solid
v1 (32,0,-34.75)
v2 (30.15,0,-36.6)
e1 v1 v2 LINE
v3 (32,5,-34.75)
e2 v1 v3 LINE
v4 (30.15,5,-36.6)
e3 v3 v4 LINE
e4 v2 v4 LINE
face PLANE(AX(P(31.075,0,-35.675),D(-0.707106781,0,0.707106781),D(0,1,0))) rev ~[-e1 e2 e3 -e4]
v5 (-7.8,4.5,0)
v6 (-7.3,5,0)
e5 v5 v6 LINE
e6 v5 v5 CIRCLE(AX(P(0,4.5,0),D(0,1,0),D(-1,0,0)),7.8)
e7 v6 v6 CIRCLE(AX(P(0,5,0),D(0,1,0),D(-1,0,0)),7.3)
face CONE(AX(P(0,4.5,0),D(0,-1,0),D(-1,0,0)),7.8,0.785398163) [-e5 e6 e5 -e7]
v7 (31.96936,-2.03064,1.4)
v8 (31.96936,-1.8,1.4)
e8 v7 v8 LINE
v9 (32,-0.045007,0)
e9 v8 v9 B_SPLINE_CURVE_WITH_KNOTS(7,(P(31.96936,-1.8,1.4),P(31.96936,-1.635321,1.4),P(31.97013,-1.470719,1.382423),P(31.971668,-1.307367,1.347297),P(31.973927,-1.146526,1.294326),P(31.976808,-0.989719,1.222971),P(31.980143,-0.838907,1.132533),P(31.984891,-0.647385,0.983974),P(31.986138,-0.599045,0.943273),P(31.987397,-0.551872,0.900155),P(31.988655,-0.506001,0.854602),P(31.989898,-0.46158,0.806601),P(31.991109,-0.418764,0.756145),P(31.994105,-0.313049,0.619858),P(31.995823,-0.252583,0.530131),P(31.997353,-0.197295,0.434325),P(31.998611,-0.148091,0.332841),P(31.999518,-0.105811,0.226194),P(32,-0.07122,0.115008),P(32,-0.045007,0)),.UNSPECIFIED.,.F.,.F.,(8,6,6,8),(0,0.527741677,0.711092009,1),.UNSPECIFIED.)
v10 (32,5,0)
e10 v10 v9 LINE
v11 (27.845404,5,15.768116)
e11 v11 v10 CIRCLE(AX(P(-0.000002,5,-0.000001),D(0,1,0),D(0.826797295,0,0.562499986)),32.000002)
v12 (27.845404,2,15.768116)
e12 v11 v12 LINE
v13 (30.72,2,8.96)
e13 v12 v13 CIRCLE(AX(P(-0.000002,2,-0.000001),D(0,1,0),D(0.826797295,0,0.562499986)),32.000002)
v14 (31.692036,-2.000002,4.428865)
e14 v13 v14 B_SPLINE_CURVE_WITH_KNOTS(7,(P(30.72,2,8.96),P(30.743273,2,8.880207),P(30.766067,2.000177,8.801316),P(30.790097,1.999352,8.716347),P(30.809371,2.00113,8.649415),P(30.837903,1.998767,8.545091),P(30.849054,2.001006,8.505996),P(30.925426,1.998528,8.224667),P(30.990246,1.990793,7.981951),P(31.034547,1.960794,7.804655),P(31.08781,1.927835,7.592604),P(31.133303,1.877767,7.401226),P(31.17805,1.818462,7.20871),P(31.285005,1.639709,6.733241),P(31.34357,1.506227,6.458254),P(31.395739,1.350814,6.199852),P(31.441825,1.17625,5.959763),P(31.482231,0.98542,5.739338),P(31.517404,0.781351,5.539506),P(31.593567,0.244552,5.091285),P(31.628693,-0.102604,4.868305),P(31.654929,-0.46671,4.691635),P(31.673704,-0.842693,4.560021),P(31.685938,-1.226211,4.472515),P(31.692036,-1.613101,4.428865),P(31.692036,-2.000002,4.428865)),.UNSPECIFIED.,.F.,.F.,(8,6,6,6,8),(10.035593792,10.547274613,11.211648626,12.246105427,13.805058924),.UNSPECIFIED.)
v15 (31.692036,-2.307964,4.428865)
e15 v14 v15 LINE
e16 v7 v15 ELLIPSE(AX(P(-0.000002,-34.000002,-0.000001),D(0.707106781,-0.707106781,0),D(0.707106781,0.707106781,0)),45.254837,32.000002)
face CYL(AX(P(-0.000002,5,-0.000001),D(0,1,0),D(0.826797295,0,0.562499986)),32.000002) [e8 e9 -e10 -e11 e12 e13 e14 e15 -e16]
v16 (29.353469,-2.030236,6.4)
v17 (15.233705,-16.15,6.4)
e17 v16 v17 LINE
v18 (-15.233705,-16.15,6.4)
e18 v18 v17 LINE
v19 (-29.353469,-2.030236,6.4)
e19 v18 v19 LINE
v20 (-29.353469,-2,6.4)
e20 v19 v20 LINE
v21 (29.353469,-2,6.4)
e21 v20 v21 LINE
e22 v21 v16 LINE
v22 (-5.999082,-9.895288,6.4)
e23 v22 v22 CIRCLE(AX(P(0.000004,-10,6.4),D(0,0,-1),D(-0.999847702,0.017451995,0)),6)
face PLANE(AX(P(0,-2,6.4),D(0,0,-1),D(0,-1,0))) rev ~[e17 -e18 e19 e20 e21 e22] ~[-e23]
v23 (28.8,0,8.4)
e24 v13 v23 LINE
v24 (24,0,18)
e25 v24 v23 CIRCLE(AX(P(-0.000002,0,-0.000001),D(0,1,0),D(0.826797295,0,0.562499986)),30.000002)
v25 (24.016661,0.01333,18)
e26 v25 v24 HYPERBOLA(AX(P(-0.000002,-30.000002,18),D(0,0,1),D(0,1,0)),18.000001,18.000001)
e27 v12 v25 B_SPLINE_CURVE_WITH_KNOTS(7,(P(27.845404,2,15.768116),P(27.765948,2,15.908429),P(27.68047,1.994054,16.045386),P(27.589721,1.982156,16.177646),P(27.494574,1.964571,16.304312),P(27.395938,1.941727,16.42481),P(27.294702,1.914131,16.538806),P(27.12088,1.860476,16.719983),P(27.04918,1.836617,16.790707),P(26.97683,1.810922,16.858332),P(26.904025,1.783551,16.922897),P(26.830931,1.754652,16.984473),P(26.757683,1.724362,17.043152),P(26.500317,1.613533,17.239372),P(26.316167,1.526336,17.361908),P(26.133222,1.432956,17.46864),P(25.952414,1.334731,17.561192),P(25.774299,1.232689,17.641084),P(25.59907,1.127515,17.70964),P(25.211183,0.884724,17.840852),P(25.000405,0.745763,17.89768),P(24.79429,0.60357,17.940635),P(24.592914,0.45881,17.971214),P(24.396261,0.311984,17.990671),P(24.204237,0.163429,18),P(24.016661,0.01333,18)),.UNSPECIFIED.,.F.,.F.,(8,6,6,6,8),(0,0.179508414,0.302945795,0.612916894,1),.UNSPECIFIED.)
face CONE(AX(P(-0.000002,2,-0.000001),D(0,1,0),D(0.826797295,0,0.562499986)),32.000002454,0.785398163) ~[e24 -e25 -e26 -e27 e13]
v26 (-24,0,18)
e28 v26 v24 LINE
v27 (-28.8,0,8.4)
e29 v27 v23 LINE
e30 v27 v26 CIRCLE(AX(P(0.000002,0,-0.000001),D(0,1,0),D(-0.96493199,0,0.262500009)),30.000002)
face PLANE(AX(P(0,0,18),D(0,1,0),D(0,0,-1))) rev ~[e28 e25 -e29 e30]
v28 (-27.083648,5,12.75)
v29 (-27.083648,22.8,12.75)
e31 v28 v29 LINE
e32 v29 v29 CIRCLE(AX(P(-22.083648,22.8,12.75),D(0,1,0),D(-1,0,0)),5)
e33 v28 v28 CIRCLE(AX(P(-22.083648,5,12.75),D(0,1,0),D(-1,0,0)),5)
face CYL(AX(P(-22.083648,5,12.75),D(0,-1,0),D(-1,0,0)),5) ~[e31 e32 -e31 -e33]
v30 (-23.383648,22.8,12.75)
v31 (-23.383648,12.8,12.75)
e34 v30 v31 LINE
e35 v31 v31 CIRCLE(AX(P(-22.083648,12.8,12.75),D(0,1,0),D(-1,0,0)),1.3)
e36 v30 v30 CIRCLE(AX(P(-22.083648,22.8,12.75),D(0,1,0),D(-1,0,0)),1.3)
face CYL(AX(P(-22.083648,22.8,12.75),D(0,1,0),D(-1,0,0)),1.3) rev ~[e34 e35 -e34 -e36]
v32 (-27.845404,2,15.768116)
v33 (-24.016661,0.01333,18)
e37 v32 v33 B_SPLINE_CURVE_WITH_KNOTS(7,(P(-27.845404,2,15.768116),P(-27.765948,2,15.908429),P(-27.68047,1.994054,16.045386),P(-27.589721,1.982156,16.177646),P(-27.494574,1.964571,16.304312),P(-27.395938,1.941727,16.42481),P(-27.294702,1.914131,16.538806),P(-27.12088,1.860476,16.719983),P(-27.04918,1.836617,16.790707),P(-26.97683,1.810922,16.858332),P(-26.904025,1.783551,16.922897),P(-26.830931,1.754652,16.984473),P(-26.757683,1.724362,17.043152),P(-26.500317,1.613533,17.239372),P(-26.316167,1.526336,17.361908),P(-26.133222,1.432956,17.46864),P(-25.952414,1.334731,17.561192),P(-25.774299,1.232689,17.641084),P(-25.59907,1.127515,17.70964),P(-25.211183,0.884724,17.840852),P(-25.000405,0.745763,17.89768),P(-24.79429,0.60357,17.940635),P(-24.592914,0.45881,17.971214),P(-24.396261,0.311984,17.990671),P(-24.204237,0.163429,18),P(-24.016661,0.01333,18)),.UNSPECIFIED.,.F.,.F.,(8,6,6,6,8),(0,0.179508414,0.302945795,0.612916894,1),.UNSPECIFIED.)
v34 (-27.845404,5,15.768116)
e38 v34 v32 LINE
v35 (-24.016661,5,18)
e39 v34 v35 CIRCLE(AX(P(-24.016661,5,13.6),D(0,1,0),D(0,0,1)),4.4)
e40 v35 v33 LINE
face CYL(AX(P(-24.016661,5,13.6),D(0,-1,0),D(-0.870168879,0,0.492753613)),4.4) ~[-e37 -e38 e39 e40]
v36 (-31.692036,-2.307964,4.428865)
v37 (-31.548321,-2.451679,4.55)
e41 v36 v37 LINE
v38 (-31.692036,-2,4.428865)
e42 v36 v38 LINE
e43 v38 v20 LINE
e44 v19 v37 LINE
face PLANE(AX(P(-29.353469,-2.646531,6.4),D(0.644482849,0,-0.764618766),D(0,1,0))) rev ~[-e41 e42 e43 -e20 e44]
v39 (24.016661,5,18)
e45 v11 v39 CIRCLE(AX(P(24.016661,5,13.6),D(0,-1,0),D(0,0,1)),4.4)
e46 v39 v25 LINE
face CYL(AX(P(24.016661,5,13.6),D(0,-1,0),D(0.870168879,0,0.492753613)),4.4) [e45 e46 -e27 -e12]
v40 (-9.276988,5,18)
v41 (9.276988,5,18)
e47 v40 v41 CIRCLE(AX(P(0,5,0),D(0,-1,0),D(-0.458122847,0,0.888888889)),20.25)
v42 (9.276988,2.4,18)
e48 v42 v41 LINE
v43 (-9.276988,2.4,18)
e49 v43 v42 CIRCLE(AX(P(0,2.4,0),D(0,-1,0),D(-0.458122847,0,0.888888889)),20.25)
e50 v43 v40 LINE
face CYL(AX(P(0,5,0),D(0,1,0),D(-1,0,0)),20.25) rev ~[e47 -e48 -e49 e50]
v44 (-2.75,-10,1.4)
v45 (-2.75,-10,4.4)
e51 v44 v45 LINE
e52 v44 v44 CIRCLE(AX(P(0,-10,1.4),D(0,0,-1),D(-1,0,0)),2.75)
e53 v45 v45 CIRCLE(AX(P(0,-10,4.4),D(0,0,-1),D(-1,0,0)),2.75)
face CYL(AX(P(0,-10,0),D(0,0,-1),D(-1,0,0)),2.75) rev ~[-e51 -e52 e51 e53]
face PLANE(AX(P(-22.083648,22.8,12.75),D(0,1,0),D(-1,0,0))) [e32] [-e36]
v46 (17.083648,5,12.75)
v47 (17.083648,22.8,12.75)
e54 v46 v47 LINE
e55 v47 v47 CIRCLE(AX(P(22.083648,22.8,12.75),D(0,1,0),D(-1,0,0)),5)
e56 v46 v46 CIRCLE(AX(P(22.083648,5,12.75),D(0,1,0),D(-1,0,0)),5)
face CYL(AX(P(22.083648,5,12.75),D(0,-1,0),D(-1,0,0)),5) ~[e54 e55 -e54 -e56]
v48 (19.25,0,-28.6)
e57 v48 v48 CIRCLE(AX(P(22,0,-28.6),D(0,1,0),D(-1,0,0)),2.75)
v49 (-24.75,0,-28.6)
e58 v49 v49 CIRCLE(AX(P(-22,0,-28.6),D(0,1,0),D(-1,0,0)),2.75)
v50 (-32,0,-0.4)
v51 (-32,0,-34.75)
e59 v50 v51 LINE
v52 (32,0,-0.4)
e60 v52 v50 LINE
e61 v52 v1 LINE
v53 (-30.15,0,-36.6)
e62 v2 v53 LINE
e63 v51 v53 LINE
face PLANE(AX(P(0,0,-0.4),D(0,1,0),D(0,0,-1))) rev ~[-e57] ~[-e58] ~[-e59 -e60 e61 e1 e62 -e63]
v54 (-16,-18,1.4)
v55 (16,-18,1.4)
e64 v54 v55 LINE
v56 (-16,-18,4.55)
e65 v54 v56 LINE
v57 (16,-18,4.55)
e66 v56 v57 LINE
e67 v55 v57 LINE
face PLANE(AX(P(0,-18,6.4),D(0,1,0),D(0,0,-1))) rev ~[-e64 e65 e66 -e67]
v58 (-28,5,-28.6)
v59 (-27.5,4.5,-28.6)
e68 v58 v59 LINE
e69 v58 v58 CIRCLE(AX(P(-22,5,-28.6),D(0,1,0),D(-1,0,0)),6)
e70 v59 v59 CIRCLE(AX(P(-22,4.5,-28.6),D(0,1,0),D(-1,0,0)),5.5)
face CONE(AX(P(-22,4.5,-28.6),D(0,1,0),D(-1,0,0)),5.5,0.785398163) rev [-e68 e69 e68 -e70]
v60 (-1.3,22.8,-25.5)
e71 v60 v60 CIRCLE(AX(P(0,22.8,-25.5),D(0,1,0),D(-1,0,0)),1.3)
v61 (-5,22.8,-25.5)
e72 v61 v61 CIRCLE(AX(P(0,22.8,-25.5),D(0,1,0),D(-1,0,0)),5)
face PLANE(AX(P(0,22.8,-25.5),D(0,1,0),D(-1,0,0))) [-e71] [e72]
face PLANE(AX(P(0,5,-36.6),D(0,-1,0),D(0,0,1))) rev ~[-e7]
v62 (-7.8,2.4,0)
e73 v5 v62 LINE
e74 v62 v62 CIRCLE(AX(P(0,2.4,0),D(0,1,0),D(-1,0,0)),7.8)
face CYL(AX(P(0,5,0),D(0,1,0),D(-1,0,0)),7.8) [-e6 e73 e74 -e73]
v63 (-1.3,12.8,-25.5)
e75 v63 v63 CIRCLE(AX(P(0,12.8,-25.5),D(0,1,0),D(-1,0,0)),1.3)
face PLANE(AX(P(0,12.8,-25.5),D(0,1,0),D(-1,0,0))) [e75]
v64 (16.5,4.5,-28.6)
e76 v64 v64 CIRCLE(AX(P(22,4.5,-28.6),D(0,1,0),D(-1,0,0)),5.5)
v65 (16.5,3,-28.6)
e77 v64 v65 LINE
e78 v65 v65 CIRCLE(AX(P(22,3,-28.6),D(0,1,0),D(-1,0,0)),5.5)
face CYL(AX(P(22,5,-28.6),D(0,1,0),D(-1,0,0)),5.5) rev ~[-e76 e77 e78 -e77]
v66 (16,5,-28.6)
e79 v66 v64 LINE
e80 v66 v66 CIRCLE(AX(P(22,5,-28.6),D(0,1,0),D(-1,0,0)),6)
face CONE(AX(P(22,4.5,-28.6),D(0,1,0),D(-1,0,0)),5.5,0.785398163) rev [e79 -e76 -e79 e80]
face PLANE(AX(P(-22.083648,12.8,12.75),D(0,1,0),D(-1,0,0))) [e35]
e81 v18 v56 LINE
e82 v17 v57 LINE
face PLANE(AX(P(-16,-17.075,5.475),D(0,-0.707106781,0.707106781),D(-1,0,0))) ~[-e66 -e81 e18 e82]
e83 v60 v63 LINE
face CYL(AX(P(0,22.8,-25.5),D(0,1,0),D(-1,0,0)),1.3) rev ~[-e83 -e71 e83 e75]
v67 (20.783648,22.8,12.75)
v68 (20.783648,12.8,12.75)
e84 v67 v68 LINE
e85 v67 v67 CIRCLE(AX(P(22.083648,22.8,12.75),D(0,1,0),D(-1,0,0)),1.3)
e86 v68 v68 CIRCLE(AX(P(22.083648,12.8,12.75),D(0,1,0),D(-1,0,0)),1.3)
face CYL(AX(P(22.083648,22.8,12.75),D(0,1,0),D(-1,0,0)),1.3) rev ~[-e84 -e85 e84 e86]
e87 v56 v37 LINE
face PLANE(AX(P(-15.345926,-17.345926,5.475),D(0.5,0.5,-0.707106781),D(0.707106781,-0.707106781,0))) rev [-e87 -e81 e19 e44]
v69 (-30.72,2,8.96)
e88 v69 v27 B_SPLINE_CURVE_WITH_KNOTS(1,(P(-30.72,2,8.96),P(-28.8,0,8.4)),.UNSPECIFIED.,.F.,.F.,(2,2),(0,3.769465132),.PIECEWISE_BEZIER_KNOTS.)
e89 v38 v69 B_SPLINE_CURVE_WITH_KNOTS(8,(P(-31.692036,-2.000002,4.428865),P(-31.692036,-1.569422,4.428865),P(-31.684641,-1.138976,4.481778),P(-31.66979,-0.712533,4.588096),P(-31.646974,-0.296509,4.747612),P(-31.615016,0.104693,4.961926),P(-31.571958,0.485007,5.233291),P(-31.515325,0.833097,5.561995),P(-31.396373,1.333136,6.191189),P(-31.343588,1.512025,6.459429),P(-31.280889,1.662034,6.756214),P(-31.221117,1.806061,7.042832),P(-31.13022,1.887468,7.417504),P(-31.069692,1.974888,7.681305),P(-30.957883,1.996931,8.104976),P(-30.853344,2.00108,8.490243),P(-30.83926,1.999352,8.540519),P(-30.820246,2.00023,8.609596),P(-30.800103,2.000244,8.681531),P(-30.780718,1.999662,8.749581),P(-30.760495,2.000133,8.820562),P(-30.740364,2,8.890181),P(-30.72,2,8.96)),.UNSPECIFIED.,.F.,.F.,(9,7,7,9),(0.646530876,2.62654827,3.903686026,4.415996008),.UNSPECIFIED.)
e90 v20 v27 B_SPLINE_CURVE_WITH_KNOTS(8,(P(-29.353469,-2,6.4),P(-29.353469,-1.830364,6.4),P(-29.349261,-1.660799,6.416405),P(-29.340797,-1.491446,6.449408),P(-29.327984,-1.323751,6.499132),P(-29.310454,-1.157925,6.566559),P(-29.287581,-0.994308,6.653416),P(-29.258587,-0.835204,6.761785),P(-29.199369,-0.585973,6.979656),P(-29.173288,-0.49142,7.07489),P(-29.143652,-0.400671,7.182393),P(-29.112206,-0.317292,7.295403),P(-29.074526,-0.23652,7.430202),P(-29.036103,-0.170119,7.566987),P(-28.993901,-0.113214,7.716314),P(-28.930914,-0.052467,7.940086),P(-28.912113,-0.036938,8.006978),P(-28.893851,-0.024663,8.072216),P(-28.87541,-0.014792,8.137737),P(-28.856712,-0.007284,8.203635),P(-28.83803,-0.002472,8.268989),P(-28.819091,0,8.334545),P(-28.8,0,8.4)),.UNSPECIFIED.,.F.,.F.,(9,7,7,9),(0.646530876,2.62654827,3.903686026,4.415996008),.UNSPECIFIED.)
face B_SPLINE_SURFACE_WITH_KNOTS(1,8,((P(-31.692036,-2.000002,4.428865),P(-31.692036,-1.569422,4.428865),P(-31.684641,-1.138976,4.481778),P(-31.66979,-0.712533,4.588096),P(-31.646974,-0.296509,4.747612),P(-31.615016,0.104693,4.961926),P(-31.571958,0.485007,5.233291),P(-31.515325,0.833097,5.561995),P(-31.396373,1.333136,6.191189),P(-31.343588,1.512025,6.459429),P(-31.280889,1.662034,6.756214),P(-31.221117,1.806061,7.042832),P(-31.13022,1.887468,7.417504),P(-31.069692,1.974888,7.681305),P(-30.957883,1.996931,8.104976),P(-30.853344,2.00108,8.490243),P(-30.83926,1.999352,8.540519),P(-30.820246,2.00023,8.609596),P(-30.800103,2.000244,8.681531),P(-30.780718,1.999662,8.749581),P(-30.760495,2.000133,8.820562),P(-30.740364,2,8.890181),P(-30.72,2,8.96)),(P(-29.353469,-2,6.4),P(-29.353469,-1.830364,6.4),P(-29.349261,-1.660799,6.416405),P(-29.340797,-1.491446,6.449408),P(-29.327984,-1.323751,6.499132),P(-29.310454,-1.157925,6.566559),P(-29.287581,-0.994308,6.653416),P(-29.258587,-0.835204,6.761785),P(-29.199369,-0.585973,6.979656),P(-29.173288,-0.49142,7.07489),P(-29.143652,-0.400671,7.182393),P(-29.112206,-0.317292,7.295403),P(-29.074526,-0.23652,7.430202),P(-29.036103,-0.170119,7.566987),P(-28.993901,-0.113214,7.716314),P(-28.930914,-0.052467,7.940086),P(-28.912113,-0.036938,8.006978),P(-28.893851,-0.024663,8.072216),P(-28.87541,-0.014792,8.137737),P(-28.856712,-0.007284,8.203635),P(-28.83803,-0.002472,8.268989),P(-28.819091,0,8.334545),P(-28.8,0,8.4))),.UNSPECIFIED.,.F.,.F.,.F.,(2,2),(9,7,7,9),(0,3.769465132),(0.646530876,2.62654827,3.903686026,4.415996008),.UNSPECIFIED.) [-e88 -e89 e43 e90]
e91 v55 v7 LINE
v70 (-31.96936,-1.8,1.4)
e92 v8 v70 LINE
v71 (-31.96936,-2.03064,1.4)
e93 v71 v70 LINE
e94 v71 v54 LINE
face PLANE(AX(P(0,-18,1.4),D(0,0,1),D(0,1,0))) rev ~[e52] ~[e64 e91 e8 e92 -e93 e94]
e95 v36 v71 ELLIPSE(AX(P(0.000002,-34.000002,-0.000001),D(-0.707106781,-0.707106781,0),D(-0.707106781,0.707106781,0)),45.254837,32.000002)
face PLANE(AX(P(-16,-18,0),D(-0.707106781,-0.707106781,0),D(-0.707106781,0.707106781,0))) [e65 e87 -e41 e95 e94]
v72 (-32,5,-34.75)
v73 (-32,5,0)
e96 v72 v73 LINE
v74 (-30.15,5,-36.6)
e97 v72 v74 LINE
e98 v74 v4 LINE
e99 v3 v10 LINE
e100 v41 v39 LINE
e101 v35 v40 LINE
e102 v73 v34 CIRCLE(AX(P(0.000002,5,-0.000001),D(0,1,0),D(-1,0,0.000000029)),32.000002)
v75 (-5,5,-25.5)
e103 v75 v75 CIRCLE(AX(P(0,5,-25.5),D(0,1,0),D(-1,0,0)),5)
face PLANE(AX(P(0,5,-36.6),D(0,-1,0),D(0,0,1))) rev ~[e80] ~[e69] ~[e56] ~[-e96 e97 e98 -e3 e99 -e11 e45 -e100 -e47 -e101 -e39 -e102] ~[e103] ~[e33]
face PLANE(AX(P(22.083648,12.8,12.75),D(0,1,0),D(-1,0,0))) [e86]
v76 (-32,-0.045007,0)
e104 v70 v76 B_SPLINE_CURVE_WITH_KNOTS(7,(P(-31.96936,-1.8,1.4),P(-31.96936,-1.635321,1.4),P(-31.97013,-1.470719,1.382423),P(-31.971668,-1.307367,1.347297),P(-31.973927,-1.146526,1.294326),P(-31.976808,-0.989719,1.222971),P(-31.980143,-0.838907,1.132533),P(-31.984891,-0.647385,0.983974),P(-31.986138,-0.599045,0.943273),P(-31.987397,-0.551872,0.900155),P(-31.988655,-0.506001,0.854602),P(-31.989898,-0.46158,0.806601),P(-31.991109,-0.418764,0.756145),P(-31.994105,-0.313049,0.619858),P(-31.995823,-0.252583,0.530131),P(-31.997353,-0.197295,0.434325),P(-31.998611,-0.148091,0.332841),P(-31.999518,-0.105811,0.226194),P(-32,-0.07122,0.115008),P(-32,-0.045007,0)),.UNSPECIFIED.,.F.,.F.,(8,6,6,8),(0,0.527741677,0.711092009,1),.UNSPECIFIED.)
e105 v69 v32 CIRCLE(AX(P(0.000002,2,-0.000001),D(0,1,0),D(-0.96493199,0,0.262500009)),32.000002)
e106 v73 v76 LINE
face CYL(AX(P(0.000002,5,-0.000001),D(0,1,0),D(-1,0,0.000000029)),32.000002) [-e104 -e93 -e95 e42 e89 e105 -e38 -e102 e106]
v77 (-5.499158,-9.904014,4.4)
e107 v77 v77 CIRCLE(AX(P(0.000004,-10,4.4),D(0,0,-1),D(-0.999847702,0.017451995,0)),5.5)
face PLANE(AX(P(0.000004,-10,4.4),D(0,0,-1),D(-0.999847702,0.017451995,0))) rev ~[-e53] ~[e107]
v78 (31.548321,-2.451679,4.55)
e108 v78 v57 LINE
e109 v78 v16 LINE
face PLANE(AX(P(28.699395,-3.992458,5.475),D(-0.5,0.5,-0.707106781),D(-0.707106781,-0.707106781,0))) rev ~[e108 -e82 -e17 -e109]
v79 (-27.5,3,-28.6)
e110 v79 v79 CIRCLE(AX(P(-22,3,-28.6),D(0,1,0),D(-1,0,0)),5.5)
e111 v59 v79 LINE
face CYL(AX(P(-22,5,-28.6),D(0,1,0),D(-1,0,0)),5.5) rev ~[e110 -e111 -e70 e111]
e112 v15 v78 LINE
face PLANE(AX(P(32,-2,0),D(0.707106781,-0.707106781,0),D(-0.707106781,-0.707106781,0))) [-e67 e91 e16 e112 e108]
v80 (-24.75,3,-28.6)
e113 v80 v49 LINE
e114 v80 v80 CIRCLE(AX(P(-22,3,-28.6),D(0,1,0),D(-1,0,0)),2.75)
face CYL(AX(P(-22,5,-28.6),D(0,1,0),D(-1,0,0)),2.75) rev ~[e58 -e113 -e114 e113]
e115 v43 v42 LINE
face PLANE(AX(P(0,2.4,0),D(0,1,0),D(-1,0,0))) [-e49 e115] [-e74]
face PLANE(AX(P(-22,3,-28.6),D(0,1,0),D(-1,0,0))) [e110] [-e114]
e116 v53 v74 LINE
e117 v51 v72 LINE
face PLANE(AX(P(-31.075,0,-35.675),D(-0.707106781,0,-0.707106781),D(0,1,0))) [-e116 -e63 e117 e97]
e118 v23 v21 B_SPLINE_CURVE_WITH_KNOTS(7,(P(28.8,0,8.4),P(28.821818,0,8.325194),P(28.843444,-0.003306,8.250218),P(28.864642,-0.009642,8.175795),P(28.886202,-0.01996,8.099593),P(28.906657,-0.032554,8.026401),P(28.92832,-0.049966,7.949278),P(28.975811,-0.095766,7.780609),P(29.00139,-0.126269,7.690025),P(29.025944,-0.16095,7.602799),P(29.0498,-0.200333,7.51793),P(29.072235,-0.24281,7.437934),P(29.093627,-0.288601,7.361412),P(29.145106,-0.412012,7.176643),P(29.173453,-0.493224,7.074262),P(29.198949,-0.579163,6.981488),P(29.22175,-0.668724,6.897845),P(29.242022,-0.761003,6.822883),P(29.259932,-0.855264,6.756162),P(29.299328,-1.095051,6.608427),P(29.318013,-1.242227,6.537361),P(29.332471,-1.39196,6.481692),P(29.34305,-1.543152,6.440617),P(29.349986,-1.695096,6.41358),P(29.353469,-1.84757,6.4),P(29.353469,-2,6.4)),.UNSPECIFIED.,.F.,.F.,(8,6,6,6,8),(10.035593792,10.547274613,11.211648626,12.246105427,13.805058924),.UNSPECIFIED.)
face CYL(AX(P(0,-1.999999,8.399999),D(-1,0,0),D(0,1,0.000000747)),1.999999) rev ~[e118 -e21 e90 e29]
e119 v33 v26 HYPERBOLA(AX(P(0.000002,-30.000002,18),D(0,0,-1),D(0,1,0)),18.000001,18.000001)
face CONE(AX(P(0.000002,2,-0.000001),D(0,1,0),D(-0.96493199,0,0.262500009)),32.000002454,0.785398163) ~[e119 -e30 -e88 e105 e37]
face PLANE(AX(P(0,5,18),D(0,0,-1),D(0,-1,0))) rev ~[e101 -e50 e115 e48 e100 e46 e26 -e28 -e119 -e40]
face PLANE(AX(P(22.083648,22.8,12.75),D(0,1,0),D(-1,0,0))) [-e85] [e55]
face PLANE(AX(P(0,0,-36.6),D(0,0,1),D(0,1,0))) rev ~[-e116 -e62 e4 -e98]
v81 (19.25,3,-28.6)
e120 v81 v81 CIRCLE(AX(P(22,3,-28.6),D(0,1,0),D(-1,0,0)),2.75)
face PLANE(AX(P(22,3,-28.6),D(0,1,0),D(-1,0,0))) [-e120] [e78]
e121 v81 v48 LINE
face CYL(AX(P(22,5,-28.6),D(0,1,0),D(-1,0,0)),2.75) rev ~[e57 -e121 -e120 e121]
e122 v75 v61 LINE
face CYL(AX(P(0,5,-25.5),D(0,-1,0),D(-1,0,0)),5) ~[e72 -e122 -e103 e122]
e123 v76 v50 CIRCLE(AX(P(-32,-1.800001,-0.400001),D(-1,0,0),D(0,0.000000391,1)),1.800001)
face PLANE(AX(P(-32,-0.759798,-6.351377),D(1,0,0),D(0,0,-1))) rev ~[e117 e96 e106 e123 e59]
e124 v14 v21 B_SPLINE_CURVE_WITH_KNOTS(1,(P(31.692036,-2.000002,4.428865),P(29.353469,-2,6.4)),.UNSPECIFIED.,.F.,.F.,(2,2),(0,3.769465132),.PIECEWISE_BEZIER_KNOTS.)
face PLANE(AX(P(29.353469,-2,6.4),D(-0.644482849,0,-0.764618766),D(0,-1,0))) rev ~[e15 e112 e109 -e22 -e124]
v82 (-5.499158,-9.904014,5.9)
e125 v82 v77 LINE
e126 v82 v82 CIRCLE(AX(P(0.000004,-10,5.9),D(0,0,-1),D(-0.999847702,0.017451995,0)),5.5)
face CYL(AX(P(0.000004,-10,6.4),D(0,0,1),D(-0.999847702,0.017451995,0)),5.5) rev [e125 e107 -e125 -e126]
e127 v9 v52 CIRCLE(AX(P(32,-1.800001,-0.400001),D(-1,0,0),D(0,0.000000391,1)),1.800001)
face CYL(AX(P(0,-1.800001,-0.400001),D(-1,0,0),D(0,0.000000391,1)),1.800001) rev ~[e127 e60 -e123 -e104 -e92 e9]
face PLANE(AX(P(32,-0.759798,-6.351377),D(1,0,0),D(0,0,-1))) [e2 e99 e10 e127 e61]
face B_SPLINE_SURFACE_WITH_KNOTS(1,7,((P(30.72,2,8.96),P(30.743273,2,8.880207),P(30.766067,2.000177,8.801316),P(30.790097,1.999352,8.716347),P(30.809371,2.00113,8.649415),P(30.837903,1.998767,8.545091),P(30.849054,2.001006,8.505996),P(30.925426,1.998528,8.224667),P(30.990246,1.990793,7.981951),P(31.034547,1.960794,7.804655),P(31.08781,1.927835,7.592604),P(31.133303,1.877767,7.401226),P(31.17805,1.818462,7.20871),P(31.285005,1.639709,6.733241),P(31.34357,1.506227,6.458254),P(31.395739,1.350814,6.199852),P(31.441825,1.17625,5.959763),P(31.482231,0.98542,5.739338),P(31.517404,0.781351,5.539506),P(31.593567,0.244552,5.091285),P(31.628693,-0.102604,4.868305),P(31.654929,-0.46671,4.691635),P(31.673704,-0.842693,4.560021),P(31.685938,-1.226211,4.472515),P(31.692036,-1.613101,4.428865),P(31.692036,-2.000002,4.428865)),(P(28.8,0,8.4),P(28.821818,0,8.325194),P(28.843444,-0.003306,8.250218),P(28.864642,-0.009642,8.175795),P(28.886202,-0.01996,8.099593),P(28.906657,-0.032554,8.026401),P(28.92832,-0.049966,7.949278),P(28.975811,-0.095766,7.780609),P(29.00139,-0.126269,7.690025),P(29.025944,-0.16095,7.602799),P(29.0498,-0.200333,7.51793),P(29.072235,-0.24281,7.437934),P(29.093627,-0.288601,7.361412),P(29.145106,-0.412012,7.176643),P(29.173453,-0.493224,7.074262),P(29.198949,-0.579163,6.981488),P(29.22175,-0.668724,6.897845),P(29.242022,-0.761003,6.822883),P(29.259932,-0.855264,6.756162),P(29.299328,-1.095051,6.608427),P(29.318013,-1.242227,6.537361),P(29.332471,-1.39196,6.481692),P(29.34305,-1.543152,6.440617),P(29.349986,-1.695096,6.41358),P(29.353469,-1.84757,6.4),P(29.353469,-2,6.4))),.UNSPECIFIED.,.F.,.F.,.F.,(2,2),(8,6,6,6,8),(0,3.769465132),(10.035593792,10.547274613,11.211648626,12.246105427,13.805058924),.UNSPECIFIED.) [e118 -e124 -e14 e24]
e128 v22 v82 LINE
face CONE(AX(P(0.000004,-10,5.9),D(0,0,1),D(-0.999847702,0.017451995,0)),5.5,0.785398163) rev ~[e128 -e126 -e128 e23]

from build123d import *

# Parameters (mm, degrees)
PAD001_DEPTH                  = 32
SKETCH010_R                   = 20.25
SKETCH010_R_2                 = 7.8
POCKET_DEPTH                  = 2.6
SKETCH011_R                   = 2.75
POCKET001_DEPTH               = 23.001
SKETCH014_R                   = 5.5
POCKET004_DEPTH               = 2
SKETCH008_R                   = 5
PAD002_DEPTH                  = 17.8
SKETCH012_R                   = 1.3
POCKET002_DEPTH               = 10
SKETCH013_R                   = 2.75
POCKET003_DEPTH               = 18.001
SKETCH015_R                   = 5.5
POCKET005_DEPTH               = 2
CHAMFER_SIZE                  = 2
CHAMFER001_SIZE               = 1.85
CHAMFER002_SIZE               = 0.5
FILLET_R                      = 4.4
BODY001082169_ROLL_ANGLE      = 90
BODY001082169_PLACEMENT_ANGLE = 180


with BuildPart() as part:
    # Sketch009 → Pad001 (new body, symmetric)
    with BuildSketch(Plane.YZ):
        with BuildLine():
            Line((-36.6, 0), (-36.6, 5))
            Line((-36.6, 5), (18, 5))
            Line((18, 5), (18, 0))
            Line((18, 0), (8.4, 0))
            ThreePointArc((8.4, 0), (6.985786, -0.585786), (6.4, -2))
            Line((6.4, -2), (6.4, -18))
            Line((6.4, -18), (1.4, -18))
            Line((1.4, -18), (1.4, -1.8))
            ThreePointArc((1.4, -1.8), (0.872792, -0.527208), (-0.4, 0))
            Line((-0.4, 0), (-36.6, 0))
        make_face()
    extrude(amount=PAD001_DEPTH, both=True)

    # Sketch010 → Pocket (cut)
    with BuildSketch(Plane.XY.offset(5)):
        Circle(SKETCH010_R)
        Circle(SKETCH010_R_2, mode=Mode.SUBTRACT)
    extrude(amount=-POCKET_DEPTH, mode=Mode.SUBTRACT)

    # Sketch011 → Pocket001 (cut, through all)
    with BuildSketch(Plane.XY.offset(5)):
        with Locations((22, -28.6)):
            Circle(SKETCH011_R)
        with Locations((-22, -28.6)):
            Circle(SKETCH011_R)
        with BuildLine():
            ThreePointArc((-26.457513, 18), (-30.583005, 9.416995), (-32, 0))
            Line((-32, 0), (-33, 0))
            Line((-33, 0), (-33, 19))
            Line((-33, 19), (33, 19))
            Line((33, 19), (33, 0))
            Line((33, 0), (32, 0))
            ThreePointArc((32, 0), (30.583005, 9.416995), (26.457513, 18))
            Line((-26.457513, 18), (26.457513, 18))
        make_face()
    extrude(amount=-POCKET001_DEPTH, mode=Mode.SUBTRACT)

    # Sketch014 → Pocket004 (cut)
    with BuildSketch(Plane.XY.offset(5)):
        with Locations((-22, -28.6)):
            Circle(SKETCH014_R)
        with Locations((22, -28.6)):
            Circle(SKETCH014_R)
    extrude(amount=-POCKET004_DEPTH, mode=Mode.SUBTRACT)

    # Sketch008 → Pad002 (join)
    with BuildSketch(Plane.XY.offset(5)):
        with Locations((-22.083648, 12.75)):
            Circle(SKETCH008_R)
        with Locations((22.083648, 12.75)):
            Circle(SKETCH008_R)
        with Locations((0, -25.5)):
            Circle(SKETCH008_R)
    extrude(amount=PAD002_DEPTH)

    # Sketch012 → Pocket002 (cut)
    with BuildSketch(Plane.XY.offset(22.8)):
        with Locations((-22.083648, 12.75)):
            Circle(SKETCH012_R)
        with Locations((22.083648, 12.75)):
            Circle(SKETCH012_R)
        with Locations((0, -25.5)):
            Circle(SKETCH012_R)
    extrude(amount=-POCKET002_DEPTH, mode=Mode.SUBTRACT)

    # Sketch013 → Pocket003 (cut, through all)
    with BuildSketch(Plane.XZ):
        with Locations((0, -10)):
            Circle(SKETCH013_R)
        Polygon((-32, -2), (-16, -18), (16, -18), (32, -2), (33, -2), (33, -20), (-33, -20), (-33, -2), align=None)
    extrude(amount=-POCKET003_DEPTH, mode=Mode.SUBTRACT)

    # Sketch015 → Pocket005 (cut)
    with BuildSketch(Plane(origin=(0, 6.4, 0), x_dir=(0.999848, 0, 0.017452), z_dir=(0, -1, 0))):
        with Locations((-0.174524, -9.998477)):
            Circle(SKETCH015_R)
    extrude(amount=POCKET005_DEPTH, mode=Mode.SUBTRACT)

    # Chamfer
    chamfer_edges = [part.edges().sort_by_distance(p)[0] for p in [
        (29.066737, 13.383751, 0),
        (31.225598, 6.997288, -0.574378),
        (-29.066737, 13.383751, 0),
        (-31.225598, 6.997288, -0.574378),
    ]]
    chamfer(chamfer_edges, length=CHAMFER_SIZE)

    # Chamfer001
    chamfer001_edges = [part.edges().sort_by_distance(p)[0] for p in [
        (22.676734, 6.4, -11.323266),
        (0, 6.4, -18),
        (-22.676734, 6.4, -11.323266),
        (-32, -36.6, 2.5),
        (32, -36.6, 2.5),
    ]]
    chamfer(chamfer001_edges, length=CHAMFER001_SIZE)

    # Chamfer002
    chamfer002_edges = [part.edges().sort_by_distance(p)[0] for p in [
        (-27.5, -28.6, 5),
        (16.5, -28.6, 5),
        (-7.8, 0, 5),
        (-5.499162, 6.4, -10.095988),
    ]]
    chamfer(chamfer002_edges, length=CHAMFER002_SIZE)

    # Fillet
    fillet_edges = [part.edges().sort_by_distance(p)[0] for p in [
        (-26.457513, 18, 3.5),
        (26.457513, 18, 3.5),
    ]]
    fillet(fillet_edges, radius=FILLET_R)


with BuildPart() as part_1:
    # Body001082169 roll: moved
    add(part.part.rotate(Axis((0, 0, 0), (1, 0, 0)), BODY001082169_ROLL_ANGLE))


with BuildPart() as part_2:
    # Body001082169 placement: moved
    add(part_1.part.rotate(Axis((0, 0, 0), (0, 0, 1)), BODY001082169_PLACEMENT_ANGLE))


solid = part_2.part
